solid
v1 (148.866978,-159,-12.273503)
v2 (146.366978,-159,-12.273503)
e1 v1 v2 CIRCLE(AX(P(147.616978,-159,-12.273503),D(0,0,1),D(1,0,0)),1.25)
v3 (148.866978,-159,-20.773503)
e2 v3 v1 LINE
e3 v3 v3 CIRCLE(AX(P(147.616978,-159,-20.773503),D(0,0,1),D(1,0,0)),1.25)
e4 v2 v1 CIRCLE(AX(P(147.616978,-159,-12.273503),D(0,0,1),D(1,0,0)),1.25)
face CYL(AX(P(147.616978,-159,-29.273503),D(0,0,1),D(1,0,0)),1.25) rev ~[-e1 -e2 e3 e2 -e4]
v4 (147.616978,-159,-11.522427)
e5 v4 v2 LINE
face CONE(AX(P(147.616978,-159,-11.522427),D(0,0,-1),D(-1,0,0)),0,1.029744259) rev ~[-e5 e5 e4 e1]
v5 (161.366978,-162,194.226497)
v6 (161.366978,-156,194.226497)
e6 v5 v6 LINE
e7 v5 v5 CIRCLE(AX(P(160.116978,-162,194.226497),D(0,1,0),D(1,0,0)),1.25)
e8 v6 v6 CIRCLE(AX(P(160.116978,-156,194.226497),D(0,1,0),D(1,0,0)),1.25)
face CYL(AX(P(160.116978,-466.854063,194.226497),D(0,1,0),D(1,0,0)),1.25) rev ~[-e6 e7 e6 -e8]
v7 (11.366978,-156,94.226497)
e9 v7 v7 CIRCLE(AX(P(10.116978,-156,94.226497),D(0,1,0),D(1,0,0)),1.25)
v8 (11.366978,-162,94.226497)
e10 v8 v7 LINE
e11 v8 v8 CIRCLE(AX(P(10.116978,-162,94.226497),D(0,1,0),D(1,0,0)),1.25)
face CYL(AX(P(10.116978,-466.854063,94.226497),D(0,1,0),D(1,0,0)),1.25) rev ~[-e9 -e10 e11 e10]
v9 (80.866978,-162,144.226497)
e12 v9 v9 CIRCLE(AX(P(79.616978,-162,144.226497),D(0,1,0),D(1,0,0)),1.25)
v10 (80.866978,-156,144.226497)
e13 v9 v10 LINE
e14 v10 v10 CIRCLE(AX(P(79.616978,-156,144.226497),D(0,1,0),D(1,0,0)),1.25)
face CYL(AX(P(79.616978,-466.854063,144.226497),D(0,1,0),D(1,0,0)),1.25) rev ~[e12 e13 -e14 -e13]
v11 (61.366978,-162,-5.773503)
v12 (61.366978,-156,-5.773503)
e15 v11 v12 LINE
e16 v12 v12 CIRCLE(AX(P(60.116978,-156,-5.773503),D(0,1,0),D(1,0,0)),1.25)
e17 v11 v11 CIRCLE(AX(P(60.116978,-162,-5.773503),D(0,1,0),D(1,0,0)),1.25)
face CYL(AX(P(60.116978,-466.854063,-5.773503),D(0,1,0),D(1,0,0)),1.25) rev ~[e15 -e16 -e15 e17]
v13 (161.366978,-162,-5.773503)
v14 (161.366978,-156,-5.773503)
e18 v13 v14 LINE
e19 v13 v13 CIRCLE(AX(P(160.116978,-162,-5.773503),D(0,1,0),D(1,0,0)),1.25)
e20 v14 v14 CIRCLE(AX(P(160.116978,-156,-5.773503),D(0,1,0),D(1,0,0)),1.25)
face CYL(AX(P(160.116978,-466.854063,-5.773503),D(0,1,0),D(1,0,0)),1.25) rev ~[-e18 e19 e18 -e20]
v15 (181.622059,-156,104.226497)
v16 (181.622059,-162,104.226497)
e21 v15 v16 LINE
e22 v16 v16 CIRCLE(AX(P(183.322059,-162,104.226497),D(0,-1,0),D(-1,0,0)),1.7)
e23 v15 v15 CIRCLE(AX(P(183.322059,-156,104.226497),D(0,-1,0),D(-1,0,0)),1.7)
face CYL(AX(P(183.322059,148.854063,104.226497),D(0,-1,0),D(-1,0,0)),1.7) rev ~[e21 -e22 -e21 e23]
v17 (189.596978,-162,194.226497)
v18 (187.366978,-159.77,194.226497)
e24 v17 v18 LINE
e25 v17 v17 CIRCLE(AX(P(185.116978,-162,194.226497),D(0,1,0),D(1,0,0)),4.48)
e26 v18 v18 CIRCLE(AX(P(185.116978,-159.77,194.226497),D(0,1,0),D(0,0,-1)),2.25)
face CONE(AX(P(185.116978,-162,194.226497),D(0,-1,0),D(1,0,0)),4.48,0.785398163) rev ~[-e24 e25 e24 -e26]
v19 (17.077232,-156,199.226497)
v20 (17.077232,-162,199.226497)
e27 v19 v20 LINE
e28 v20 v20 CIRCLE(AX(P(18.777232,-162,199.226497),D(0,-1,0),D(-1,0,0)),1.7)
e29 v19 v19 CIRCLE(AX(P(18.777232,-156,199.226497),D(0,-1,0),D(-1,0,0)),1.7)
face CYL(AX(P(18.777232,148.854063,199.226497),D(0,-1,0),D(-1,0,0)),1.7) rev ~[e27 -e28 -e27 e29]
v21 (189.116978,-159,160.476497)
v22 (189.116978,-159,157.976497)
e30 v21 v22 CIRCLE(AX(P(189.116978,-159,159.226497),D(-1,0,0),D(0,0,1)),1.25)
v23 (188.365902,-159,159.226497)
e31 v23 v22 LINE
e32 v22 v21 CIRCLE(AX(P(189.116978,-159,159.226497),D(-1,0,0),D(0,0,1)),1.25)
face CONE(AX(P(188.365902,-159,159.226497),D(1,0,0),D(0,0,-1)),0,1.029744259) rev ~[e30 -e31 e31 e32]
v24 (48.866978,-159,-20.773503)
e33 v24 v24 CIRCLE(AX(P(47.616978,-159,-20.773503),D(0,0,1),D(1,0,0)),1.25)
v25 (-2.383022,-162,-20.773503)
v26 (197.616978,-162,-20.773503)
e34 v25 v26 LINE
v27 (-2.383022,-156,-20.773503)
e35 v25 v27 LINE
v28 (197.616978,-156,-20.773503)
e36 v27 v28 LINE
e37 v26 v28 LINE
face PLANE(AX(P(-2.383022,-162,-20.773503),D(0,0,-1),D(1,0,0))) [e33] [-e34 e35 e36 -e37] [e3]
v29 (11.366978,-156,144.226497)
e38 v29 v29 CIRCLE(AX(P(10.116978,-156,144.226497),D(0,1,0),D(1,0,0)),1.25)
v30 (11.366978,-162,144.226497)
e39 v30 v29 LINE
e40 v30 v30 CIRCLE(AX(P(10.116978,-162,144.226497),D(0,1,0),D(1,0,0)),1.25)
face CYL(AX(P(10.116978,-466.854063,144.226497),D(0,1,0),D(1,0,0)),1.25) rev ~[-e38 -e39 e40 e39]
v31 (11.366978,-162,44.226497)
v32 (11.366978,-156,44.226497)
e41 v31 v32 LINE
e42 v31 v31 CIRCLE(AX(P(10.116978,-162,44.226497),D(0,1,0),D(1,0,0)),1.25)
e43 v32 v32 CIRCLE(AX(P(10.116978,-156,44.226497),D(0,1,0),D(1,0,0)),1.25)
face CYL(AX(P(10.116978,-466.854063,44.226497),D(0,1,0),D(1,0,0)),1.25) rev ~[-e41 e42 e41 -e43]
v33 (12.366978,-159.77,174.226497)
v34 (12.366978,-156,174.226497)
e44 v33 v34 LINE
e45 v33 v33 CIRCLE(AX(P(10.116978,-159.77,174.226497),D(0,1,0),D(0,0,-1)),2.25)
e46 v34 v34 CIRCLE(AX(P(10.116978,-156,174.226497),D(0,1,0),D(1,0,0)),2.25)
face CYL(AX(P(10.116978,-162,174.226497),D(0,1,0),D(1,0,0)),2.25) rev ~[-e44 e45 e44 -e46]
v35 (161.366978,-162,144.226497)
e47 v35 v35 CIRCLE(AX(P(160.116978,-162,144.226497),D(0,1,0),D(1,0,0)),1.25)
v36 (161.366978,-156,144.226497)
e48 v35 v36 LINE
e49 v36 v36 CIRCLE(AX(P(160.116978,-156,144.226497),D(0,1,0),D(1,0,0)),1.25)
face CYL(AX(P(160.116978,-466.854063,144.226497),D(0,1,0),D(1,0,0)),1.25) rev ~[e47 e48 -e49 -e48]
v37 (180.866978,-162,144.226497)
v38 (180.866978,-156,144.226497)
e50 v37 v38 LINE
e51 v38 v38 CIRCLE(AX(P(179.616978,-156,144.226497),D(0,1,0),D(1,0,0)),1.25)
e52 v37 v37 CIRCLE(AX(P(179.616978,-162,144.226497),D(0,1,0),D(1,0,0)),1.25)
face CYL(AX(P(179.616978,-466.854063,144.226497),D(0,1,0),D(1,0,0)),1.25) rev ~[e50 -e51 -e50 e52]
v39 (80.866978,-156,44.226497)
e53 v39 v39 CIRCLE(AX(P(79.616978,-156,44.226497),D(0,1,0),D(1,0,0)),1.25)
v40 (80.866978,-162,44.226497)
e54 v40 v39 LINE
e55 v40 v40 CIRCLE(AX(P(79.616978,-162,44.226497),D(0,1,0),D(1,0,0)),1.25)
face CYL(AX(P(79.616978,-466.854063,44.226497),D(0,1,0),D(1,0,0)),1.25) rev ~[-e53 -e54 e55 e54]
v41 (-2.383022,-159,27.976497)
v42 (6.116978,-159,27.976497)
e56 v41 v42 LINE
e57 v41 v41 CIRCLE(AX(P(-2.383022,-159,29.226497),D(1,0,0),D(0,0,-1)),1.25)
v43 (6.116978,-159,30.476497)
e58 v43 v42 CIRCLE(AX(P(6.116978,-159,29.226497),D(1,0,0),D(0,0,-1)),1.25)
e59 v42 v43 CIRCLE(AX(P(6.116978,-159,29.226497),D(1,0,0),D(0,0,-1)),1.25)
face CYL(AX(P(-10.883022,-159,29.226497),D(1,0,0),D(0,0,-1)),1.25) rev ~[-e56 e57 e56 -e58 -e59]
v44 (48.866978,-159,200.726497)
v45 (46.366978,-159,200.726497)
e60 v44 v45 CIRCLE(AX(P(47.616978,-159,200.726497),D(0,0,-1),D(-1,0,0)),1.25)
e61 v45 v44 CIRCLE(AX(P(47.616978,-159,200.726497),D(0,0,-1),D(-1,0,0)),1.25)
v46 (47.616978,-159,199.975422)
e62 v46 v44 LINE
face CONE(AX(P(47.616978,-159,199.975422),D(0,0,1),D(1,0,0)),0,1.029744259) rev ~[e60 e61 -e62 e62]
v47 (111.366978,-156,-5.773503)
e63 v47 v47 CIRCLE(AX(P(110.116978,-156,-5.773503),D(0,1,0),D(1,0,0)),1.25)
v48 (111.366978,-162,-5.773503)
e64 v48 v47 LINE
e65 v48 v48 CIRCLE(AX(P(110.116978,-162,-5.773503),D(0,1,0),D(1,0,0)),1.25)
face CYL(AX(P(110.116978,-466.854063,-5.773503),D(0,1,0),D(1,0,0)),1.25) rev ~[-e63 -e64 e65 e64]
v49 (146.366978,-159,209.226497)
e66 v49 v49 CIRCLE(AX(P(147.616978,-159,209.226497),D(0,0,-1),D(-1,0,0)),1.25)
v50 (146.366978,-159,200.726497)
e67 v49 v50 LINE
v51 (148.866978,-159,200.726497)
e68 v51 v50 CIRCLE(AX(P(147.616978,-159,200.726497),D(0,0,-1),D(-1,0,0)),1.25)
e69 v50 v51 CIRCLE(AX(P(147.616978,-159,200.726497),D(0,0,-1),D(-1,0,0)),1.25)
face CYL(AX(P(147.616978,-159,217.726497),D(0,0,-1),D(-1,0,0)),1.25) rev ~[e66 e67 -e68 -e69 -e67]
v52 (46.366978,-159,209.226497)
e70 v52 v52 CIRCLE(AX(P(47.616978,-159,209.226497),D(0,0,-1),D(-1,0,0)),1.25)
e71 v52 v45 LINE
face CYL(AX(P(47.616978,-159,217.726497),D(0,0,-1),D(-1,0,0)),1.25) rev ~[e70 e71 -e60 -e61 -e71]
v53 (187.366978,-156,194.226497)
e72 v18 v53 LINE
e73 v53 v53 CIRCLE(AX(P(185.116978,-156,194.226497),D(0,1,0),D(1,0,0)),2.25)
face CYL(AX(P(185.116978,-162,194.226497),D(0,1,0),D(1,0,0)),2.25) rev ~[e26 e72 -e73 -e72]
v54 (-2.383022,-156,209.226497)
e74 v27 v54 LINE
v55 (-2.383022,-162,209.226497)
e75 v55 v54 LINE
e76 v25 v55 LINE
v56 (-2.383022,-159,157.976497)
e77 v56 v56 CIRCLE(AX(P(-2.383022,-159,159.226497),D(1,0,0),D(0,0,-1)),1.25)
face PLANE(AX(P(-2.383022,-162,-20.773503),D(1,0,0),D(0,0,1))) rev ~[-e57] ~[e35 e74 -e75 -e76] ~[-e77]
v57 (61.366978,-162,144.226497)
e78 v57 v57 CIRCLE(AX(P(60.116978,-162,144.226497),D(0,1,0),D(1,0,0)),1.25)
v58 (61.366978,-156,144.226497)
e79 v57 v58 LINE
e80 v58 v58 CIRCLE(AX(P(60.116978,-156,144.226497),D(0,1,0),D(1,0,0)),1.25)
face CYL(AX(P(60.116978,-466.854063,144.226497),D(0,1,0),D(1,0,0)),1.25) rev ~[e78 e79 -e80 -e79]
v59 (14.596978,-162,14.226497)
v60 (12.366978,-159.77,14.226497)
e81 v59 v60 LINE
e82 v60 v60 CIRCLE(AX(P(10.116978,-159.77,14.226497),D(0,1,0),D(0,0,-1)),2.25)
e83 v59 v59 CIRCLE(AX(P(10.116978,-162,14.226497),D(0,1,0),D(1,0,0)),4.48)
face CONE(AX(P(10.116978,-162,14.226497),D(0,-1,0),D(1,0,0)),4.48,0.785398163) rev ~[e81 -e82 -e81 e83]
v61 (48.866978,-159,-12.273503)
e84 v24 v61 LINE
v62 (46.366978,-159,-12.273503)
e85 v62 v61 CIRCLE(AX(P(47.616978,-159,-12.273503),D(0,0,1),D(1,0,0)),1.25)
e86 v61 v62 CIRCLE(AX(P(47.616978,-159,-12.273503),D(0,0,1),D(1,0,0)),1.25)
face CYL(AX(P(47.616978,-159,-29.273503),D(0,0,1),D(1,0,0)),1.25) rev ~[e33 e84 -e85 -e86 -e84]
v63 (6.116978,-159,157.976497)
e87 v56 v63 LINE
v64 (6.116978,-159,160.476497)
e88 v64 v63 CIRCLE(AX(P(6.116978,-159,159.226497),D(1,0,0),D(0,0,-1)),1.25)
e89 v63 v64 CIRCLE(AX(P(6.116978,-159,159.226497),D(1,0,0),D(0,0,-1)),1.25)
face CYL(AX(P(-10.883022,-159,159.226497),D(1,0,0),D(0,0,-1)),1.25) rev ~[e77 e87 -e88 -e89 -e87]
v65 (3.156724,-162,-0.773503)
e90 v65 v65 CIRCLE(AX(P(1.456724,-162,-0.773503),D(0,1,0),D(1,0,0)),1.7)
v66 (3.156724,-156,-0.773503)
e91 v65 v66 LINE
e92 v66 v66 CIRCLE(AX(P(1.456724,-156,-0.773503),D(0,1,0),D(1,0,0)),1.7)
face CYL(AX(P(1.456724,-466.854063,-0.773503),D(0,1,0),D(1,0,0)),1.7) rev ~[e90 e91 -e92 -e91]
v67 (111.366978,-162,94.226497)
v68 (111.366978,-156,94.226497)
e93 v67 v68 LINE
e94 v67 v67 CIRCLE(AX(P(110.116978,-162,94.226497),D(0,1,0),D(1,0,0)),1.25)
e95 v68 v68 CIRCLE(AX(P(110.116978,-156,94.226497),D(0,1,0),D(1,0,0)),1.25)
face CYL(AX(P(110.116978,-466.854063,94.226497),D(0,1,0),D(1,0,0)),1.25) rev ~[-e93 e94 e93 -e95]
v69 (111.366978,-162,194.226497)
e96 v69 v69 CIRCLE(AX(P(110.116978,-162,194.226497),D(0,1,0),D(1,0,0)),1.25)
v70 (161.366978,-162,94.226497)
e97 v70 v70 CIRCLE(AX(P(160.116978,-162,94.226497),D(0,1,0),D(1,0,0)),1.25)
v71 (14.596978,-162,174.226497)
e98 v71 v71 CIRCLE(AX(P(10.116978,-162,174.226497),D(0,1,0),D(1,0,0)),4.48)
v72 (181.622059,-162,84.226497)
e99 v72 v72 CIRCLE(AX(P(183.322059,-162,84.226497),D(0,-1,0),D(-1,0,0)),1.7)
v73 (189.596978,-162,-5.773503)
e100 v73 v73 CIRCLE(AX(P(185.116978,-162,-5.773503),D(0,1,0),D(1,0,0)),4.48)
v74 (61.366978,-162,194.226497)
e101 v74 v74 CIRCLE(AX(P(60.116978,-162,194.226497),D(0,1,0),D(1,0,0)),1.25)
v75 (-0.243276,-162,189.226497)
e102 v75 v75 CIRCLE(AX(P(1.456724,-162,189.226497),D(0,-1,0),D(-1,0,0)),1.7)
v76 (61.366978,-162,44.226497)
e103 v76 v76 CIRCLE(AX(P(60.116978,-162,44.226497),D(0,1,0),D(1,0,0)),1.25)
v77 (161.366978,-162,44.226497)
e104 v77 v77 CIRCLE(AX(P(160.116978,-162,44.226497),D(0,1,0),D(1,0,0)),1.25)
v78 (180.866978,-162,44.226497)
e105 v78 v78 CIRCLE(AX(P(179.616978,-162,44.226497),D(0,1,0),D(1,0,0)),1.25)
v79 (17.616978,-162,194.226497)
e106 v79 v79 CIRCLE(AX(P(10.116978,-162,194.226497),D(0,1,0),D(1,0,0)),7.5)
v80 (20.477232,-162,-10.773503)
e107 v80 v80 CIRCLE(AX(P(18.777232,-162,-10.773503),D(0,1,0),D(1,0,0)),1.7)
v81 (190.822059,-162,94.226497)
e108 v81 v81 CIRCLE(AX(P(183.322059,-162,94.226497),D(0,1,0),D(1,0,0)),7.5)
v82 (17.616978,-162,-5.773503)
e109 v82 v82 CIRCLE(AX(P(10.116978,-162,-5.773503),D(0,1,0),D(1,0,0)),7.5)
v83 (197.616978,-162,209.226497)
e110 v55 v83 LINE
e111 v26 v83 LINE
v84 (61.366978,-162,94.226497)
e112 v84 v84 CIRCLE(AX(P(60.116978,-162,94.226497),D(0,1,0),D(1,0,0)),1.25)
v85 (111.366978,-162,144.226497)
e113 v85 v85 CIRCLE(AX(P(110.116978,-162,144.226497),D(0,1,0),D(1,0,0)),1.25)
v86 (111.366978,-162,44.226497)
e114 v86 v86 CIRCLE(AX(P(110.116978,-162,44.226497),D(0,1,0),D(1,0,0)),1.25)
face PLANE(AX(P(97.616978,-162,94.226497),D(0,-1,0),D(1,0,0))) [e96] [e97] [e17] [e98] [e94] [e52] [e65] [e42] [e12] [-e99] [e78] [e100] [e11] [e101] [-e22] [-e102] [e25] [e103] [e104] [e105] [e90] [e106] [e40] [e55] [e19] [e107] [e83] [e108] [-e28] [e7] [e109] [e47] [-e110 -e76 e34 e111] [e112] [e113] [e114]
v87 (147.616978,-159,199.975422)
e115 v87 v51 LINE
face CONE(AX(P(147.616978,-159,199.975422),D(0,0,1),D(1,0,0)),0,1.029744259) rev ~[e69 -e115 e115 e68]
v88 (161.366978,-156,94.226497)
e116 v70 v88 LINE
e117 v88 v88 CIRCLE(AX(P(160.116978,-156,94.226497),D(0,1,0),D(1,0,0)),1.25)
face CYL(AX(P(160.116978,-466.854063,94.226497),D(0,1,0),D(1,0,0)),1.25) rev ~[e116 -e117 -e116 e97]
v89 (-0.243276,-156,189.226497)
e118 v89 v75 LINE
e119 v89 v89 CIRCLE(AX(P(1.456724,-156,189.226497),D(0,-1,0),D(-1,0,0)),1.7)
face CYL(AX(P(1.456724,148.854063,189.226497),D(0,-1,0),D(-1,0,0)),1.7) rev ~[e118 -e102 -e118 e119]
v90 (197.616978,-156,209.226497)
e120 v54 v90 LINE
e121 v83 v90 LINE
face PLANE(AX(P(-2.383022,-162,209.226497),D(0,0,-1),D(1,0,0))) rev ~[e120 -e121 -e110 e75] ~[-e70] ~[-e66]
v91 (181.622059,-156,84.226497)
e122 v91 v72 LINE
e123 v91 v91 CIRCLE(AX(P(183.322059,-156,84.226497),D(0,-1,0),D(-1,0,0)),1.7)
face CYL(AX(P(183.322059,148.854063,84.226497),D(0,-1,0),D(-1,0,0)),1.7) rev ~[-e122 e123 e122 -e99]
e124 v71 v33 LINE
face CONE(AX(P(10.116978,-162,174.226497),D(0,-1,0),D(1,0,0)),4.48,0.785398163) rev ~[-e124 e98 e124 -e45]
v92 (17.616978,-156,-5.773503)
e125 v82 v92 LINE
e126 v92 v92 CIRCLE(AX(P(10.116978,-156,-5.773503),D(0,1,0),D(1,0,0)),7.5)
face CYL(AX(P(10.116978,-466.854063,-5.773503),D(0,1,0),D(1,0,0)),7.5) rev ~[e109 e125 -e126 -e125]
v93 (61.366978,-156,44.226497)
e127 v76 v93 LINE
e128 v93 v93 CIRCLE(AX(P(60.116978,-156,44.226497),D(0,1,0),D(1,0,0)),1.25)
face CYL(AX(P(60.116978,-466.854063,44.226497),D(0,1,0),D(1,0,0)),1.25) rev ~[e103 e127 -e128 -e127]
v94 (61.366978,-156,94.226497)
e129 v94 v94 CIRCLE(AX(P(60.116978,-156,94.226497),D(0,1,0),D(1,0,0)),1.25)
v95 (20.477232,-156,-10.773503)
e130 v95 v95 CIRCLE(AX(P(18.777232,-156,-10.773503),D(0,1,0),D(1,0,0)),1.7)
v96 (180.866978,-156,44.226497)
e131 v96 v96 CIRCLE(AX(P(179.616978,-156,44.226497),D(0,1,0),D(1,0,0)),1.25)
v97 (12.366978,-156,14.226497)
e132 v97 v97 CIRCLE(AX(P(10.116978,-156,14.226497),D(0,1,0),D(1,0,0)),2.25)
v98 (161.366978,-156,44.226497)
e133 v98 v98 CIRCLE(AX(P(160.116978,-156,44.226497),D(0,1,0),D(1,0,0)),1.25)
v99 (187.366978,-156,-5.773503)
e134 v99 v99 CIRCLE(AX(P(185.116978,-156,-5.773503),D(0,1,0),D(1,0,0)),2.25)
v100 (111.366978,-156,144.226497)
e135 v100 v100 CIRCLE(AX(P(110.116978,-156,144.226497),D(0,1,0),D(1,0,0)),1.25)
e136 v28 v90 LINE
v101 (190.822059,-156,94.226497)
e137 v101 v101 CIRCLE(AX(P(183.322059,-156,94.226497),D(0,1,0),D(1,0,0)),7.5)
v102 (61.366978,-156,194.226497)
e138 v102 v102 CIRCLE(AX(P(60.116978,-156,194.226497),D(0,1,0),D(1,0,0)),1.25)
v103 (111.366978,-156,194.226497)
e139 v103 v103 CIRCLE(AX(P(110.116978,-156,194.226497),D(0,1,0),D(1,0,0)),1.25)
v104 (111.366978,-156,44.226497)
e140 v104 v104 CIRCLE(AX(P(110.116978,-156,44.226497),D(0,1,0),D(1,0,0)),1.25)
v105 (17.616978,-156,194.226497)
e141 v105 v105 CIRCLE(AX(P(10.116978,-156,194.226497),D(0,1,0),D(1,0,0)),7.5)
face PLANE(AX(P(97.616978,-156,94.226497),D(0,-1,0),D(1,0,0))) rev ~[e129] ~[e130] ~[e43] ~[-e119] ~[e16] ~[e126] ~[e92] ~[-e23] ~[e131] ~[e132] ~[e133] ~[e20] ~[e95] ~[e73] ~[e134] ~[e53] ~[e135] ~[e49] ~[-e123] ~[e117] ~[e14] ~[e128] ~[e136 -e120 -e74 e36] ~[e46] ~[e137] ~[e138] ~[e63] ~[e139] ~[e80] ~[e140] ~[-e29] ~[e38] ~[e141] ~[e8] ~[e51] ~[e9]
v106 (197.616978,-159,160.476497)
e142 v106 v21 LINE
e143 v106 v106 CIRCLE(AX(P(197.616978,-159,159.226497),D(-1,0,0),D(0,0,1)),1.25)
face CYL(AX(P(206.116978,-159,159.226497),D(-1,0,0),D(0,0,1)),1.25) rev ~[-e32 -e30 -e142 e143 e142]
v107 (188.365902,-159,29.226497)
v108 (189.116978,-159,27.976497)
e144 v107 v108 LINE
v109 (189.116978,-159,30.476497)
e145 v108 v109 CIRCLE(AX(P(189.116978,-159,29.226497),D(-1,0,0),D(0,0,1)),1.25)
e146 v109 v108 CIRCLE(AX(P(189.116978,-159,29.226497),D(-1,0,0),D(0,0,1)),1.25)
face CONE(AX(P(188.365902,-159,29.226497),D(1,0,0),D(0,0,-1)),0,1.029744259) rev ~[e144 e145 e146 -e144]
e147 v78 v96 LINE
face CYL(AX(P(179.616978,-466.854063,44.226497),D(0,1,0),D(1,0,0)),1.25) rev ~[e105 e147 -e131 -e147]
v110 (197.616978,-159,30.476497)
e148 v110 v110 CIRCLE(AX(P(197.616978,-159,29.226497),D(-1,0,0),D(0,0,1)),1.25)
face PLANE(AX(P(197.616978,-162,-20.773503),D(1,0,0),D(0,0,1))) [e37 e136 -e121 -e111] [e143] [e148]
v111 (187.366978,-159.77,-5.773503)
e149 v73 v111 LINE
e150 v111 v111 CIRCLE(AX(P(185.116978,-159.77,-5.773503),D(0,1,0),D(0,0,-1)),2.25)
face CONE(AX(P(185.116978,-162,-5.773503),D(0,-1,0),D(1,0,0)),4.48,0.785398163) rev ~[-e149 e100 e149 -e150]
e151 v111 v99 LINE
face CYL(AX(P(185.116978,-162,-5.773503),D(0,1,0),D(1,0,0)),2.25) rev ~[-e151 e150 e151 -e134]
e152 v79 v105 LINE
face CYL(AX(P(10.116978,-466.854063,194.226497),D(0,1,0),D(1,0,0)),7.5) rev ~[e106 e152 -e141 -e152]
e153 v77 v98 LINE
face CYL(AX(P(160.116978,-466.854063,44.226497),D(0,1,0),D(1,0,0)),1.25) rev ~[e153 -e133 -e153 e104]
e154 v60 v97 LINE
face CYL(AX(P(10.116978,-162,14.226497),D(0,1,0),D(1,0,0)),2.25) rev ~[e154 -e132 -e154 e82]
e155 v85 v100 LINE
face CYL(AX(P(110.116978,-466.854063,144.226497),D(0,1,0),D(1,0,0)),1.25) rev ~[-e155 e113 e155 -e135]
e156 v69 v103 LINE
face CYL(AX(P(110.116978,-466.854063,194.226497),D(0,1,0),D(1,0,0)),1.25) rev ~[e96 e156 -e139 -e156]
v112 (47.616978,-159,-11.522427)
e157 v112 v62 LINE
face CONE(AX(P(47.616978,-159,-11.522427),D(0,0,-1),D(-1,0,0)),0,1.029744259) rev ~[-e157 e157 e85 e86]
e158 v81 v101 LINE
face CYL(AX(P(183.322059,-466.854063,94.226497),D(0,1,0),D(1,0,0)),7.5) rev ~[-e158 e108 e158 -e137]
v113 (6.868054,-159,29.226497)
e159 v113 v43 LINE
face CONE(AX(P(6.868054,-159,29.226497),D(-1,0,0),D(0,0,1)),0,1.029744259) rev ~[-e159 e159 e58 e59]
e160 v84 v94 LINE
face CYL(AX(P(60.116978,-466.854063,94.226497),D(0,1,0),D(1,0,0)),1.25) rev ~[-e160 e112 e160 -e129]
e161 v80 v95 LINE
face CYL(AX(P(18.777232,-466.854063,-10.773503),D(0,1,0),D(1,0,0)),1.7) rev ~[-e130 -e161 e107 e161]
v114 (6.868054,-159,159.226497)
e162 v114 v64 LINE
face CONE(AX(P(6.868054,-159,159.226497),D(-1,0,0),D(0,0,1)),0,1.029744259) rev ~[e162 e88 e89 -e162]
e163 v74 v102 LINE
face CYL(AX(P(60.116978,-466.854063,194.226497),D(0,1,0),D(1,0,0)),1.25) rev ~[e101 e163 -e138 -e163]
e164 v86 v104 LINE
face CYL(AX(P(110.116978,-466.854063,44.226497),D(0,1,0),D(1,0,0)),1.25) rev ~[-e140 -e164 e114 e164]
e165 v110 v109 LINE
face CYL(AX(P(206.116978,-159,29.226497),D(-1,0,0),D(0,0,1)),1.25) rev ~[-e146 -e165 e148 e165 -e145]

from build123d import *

# Parameters (mm, degrees)
SKIZZE1_W                          = 200
SKIZZE1_H                          = 230
AUFSATZ_LINEAR_AUSTRAGEN1_DEPTH    = 6
PILLAR_MOUNTING_A_D                = 3.4
PILLAR_GROMMET_D                   = 15
PILLAR_MOUNTING_B_D                = 3.4
M3_MOUNTING_GRID_D                 = 2.5
PEDESTAL_MOUNTING_HOLE_D           = 4.5
PEDESTAL_MOUNTING_HOLE_CSINK_D     = 8.96
PEDESTAL_MOUNTING_HOLE_CSINK_ANGLE = 90
SIDE_COVER_MOUNTING_THREAD_A_D     = 2.5
SIDE_COVER_MOUNTING_THREAD_A_DEPTH = 8.5
SIDE_COVER_MOUNTING_THREAD_A_TIP   = 0.751075774
SIDE_COVER_MOUNTING_THREAD_B_D     = 2.5
SIDE_COVER_MOUNTING_THREAD_B_DEPTH = 8.5
SIDE_COVER_MOUNTING_THREAD_B_TIP   = 0.751075774
SIDE_COVER_MOUNTING_THREAD_C_D     = 2.5
SIDE_COVER_MOUNTING_THREAD_C_DEPTH = 8.5
SIDE_COVER_MOUNTING_THREAD_C_TIP   = 0.751075774
SIDE_COVER_MOUNTING_THREAD_D_D     = 2.5
SIDE_COVER_MOUNTING_THREAD_D_DEPTH = 8.5
SIDE_COVER_MOUNTING_THREAD_D_TIP   = 0.751075774
MAINBOARD_MOUNTING_D               = 2.5
LINEARES_MUSTER1_COUNT             = 2
LINEARES_MUSTER1_PITCH             = 100
LINEARES_MUSTER1_COUNT_DIR2        = 2
LINEARES_MUSTER1_PITCH_DIR2        = 100


with BuildPart() as part:
    # Skizze1 → Aufsatz-Linear austragen1 (new body)
    with BuildSketch(Plane.XZ.offset(162)):
        with Locations((97.616977778, 94.226497308)):
            Rectangle(SKIZZE1_W, SKIZZE1_H)
    extrude(amount=-AUFSATZ_LINEAR_AUSTRAGEN1_DEPTH)

    # Pillar Mounting A (through all)
    with Locations(Plane(origin=(0, -162, 0), x_dir=(-1, 0, 0), z_dir=(0, -1, 0))):
        with Locations((-1.456723741, 0.773502692), (-18.777231816, 10.773502692)):
            Hole(PILLAR_MOUNTING_A_D / 2)

    # Pillar Grommet (through all)
    with Locations(Plane(origin=(0, -162, 0), x_dir=(-1, 0, 0), z_dir=(0, -1, 0))):
        with Locations((-10.116977778, 5.773502692), (-10.116977778, -194.226497308), (-183.322058535, -94.226497308)):
            Hole(PILLAR_GROMMET_D / 2)

    # Pillar Mounting B (through all)
    with Locations(Plane(origin=(0, -156, 0), x_dir=(1, 0, 0), z_dir=(0, 1, 0))):
        with Locations((183.322058535, -84.226497308), (18.777231816, -199.226497308), (1.456723741, -189.226497308), (183.322058535, -104.226497308)):
            Hole(PILLAR_MOUNTING_B_D / 2)

    # M3 Mounting Grid (through all)
    with Locations(Plane(origin=(0, -162, 0), x_dir=(-1, 0, 0), z_dir=(0, -1, 0))):
        with Locations((-60.116977778, -94.226497308), (-60.116977778, 5.773502692), (-60.116977778, -44.226497308), (-110.116977778, -44.226497308), (-110.116977778, -194.226497308), (-110.116977778, -94.226497308), (-110.116977778, 5.773502692), (-110.116977778, -144.226497308), (-60.116977778, -144.226497308), (-10.116977778, -144.226497308), (-10.116977778, -44.226497308), (-60.116977778, -194.226497308), (-160.116977778, -94.226497308), (-160.116977778, -44.226497308), (-160.116977778, -194.226497308), (-160.116977778, 5.773502692), (-160.116977778, -144.226497308), (-10.116977778, -94.226497308)):
            Hole(M3_MOUNTING_GRID_D / 2)

    # Pedestal Mounting Hole (through all)
    with Locations(Plane(origin=(0, -162, 0), x_dir=(-1, 0, 0), z_dir=(0, -1, 0))):
        with Locations((-10.116977535, -174.226497308), (-185.116977778, -194.226497308), (-185.116977778, 5.773502692), (-10.116977535, -14.226497308)):
            CounterSinkHole(PEDESTAL_MOUNTING_HOLE_D / 2, PEDESTAL_MOUNTING_HOLE_CSINK_D / 2, counter_sink_angle=PEDESTAL_MOUNTING_HOLE_CSINK_ANGLE)

    # Side Cover Mounting Thread A
    with Locations(Plane.XY.offset(209.226497308)):
        with Locations((47.616977778, -159), (147.616977778, -159)):
            Hole(SIDE_COVER_MOUNTING_THREAD_A_D / 2, depth=SIDE_COVER_MOUNTING_THREAD_A_DEPTH)
            with Locations((0, 0, -(SIDE_COVER_MOUNTING_THREAD_A_DEPTH + SIDE_COVER_MOUNTING_THREAD_A_TIP / 2))):  # 118° drill point
                Cone(0, SIDE_COVER_MOUNTING_THREAD_A_D / 2, SIDE_COVER_MOUNTING_THREAD_A_TIP, mode=Mode.SUBTRACT)

    # Side Cover Mounting Thread B
    with Locations(Plane(origin=(197.616977778, 0, 0), x_dir=(0, 0, -1), z_dir=(1, 0, 0))):
        with Locations((-29.226497308, -159), (-159.226497308, -159)):
            Hole(SIDE_COVER_MOUNTING_THREAD_B_D / 2, depth=SIDE_COVER_MOUNTING_THREAD_B_DEPTH)
            with Locations((0, 0, -(SIDE_COVER_MOUNTING_THREAD_B_DEPTH + SIDE_COVER_MOUNTING_THREAD_B_TIP / 2))):  # 118° drill point
                Cone(0, SIDE_COVER_MOUNTING_THREAD_B_D / 2, SIDE_COVER_MOUNTING_THREAD_B_TIP, mode=Mode.SUBTRACT)

    # Side Cover Mounting Thread  C
    with Locations(Plane(origin=(0, 0, -20.773502692), x_dir=(-1, 0, 0), z_dir=(0, 0, -1))):
        with Locations((-47.616977778, -159), (-147.616977778, -159)):
            Hole(SIDE_COVER_MOUNTING_THREAD_C_D / 2, depth=SIDE_COVER_MOUNTING_THREAD_C_DEPTH)
            with Locations((0, 0, -(SIDE_COVER_MOUNTING_THREAD_C_DEPTH + SIDE_COVER_MOUNTING_THREAD_C_TIP / 2))):  # 118° drill point
                Cone(0, SIDE_COVER_MOUNTING_THREAD_C_D / 2, SIDE_COVER_MOUNTING_THREAD_C_TIP, mode=Mode.SUBTRACT)

    # Side Cover Mounting Thread  D
    with Locations(Plane.ZY.offset(2.383022222)):
        with Locations((29.226497308, -159), (159.226497308, -159)):
            Hole(SIDE_COVER_MOUNTING_THREAD_D_D / 2, depth=SIDE_COVER_MOUNTING_THREAD_D_DEPTH)
            with Locations((0, 0, -(SIDE_COVER_MOUNTING_THREAD_D_DEPTH + SIDE_COVER_MOUNTING_THREAD_D_TIP / 2))):  # 118° drill point
                Cone(0, SIDE_COVER_MOUNTING_THREAD_D_D / 2, SIDE_COVER_MOUNTING_THREAD_D_TIP, mode=Mode.SUBTRACT)

    # Mainboard Mounting (through all)
    with Locations(Plane(origin=(0, -162, 0), x_dir=(-1, 0, 0), z_dir=(0, -1, 0))):
        with Locations((-179.616977778, -144.226497308)):
            mainboard_mounting = Hole(MAINBOARD_MOUNTING_D / 2)

    # Lineares Muster1: Mainboard Mounting 2 × 2
    with Locations(*[(-i * LINEARES_MUSTER1_PITCH, 0, -j * LINEARES_MUSTER1_PITCH_DIR2) for i in range(LINEARES_MUSTER1_COUNT) for j in range(LINEARES_MUSTER1_COUNT_DIR2) if (i, j) != (0, 0)]):
        add(mainboard_mounting, mode=Mode.SUBTRACT)


solid = part.part
